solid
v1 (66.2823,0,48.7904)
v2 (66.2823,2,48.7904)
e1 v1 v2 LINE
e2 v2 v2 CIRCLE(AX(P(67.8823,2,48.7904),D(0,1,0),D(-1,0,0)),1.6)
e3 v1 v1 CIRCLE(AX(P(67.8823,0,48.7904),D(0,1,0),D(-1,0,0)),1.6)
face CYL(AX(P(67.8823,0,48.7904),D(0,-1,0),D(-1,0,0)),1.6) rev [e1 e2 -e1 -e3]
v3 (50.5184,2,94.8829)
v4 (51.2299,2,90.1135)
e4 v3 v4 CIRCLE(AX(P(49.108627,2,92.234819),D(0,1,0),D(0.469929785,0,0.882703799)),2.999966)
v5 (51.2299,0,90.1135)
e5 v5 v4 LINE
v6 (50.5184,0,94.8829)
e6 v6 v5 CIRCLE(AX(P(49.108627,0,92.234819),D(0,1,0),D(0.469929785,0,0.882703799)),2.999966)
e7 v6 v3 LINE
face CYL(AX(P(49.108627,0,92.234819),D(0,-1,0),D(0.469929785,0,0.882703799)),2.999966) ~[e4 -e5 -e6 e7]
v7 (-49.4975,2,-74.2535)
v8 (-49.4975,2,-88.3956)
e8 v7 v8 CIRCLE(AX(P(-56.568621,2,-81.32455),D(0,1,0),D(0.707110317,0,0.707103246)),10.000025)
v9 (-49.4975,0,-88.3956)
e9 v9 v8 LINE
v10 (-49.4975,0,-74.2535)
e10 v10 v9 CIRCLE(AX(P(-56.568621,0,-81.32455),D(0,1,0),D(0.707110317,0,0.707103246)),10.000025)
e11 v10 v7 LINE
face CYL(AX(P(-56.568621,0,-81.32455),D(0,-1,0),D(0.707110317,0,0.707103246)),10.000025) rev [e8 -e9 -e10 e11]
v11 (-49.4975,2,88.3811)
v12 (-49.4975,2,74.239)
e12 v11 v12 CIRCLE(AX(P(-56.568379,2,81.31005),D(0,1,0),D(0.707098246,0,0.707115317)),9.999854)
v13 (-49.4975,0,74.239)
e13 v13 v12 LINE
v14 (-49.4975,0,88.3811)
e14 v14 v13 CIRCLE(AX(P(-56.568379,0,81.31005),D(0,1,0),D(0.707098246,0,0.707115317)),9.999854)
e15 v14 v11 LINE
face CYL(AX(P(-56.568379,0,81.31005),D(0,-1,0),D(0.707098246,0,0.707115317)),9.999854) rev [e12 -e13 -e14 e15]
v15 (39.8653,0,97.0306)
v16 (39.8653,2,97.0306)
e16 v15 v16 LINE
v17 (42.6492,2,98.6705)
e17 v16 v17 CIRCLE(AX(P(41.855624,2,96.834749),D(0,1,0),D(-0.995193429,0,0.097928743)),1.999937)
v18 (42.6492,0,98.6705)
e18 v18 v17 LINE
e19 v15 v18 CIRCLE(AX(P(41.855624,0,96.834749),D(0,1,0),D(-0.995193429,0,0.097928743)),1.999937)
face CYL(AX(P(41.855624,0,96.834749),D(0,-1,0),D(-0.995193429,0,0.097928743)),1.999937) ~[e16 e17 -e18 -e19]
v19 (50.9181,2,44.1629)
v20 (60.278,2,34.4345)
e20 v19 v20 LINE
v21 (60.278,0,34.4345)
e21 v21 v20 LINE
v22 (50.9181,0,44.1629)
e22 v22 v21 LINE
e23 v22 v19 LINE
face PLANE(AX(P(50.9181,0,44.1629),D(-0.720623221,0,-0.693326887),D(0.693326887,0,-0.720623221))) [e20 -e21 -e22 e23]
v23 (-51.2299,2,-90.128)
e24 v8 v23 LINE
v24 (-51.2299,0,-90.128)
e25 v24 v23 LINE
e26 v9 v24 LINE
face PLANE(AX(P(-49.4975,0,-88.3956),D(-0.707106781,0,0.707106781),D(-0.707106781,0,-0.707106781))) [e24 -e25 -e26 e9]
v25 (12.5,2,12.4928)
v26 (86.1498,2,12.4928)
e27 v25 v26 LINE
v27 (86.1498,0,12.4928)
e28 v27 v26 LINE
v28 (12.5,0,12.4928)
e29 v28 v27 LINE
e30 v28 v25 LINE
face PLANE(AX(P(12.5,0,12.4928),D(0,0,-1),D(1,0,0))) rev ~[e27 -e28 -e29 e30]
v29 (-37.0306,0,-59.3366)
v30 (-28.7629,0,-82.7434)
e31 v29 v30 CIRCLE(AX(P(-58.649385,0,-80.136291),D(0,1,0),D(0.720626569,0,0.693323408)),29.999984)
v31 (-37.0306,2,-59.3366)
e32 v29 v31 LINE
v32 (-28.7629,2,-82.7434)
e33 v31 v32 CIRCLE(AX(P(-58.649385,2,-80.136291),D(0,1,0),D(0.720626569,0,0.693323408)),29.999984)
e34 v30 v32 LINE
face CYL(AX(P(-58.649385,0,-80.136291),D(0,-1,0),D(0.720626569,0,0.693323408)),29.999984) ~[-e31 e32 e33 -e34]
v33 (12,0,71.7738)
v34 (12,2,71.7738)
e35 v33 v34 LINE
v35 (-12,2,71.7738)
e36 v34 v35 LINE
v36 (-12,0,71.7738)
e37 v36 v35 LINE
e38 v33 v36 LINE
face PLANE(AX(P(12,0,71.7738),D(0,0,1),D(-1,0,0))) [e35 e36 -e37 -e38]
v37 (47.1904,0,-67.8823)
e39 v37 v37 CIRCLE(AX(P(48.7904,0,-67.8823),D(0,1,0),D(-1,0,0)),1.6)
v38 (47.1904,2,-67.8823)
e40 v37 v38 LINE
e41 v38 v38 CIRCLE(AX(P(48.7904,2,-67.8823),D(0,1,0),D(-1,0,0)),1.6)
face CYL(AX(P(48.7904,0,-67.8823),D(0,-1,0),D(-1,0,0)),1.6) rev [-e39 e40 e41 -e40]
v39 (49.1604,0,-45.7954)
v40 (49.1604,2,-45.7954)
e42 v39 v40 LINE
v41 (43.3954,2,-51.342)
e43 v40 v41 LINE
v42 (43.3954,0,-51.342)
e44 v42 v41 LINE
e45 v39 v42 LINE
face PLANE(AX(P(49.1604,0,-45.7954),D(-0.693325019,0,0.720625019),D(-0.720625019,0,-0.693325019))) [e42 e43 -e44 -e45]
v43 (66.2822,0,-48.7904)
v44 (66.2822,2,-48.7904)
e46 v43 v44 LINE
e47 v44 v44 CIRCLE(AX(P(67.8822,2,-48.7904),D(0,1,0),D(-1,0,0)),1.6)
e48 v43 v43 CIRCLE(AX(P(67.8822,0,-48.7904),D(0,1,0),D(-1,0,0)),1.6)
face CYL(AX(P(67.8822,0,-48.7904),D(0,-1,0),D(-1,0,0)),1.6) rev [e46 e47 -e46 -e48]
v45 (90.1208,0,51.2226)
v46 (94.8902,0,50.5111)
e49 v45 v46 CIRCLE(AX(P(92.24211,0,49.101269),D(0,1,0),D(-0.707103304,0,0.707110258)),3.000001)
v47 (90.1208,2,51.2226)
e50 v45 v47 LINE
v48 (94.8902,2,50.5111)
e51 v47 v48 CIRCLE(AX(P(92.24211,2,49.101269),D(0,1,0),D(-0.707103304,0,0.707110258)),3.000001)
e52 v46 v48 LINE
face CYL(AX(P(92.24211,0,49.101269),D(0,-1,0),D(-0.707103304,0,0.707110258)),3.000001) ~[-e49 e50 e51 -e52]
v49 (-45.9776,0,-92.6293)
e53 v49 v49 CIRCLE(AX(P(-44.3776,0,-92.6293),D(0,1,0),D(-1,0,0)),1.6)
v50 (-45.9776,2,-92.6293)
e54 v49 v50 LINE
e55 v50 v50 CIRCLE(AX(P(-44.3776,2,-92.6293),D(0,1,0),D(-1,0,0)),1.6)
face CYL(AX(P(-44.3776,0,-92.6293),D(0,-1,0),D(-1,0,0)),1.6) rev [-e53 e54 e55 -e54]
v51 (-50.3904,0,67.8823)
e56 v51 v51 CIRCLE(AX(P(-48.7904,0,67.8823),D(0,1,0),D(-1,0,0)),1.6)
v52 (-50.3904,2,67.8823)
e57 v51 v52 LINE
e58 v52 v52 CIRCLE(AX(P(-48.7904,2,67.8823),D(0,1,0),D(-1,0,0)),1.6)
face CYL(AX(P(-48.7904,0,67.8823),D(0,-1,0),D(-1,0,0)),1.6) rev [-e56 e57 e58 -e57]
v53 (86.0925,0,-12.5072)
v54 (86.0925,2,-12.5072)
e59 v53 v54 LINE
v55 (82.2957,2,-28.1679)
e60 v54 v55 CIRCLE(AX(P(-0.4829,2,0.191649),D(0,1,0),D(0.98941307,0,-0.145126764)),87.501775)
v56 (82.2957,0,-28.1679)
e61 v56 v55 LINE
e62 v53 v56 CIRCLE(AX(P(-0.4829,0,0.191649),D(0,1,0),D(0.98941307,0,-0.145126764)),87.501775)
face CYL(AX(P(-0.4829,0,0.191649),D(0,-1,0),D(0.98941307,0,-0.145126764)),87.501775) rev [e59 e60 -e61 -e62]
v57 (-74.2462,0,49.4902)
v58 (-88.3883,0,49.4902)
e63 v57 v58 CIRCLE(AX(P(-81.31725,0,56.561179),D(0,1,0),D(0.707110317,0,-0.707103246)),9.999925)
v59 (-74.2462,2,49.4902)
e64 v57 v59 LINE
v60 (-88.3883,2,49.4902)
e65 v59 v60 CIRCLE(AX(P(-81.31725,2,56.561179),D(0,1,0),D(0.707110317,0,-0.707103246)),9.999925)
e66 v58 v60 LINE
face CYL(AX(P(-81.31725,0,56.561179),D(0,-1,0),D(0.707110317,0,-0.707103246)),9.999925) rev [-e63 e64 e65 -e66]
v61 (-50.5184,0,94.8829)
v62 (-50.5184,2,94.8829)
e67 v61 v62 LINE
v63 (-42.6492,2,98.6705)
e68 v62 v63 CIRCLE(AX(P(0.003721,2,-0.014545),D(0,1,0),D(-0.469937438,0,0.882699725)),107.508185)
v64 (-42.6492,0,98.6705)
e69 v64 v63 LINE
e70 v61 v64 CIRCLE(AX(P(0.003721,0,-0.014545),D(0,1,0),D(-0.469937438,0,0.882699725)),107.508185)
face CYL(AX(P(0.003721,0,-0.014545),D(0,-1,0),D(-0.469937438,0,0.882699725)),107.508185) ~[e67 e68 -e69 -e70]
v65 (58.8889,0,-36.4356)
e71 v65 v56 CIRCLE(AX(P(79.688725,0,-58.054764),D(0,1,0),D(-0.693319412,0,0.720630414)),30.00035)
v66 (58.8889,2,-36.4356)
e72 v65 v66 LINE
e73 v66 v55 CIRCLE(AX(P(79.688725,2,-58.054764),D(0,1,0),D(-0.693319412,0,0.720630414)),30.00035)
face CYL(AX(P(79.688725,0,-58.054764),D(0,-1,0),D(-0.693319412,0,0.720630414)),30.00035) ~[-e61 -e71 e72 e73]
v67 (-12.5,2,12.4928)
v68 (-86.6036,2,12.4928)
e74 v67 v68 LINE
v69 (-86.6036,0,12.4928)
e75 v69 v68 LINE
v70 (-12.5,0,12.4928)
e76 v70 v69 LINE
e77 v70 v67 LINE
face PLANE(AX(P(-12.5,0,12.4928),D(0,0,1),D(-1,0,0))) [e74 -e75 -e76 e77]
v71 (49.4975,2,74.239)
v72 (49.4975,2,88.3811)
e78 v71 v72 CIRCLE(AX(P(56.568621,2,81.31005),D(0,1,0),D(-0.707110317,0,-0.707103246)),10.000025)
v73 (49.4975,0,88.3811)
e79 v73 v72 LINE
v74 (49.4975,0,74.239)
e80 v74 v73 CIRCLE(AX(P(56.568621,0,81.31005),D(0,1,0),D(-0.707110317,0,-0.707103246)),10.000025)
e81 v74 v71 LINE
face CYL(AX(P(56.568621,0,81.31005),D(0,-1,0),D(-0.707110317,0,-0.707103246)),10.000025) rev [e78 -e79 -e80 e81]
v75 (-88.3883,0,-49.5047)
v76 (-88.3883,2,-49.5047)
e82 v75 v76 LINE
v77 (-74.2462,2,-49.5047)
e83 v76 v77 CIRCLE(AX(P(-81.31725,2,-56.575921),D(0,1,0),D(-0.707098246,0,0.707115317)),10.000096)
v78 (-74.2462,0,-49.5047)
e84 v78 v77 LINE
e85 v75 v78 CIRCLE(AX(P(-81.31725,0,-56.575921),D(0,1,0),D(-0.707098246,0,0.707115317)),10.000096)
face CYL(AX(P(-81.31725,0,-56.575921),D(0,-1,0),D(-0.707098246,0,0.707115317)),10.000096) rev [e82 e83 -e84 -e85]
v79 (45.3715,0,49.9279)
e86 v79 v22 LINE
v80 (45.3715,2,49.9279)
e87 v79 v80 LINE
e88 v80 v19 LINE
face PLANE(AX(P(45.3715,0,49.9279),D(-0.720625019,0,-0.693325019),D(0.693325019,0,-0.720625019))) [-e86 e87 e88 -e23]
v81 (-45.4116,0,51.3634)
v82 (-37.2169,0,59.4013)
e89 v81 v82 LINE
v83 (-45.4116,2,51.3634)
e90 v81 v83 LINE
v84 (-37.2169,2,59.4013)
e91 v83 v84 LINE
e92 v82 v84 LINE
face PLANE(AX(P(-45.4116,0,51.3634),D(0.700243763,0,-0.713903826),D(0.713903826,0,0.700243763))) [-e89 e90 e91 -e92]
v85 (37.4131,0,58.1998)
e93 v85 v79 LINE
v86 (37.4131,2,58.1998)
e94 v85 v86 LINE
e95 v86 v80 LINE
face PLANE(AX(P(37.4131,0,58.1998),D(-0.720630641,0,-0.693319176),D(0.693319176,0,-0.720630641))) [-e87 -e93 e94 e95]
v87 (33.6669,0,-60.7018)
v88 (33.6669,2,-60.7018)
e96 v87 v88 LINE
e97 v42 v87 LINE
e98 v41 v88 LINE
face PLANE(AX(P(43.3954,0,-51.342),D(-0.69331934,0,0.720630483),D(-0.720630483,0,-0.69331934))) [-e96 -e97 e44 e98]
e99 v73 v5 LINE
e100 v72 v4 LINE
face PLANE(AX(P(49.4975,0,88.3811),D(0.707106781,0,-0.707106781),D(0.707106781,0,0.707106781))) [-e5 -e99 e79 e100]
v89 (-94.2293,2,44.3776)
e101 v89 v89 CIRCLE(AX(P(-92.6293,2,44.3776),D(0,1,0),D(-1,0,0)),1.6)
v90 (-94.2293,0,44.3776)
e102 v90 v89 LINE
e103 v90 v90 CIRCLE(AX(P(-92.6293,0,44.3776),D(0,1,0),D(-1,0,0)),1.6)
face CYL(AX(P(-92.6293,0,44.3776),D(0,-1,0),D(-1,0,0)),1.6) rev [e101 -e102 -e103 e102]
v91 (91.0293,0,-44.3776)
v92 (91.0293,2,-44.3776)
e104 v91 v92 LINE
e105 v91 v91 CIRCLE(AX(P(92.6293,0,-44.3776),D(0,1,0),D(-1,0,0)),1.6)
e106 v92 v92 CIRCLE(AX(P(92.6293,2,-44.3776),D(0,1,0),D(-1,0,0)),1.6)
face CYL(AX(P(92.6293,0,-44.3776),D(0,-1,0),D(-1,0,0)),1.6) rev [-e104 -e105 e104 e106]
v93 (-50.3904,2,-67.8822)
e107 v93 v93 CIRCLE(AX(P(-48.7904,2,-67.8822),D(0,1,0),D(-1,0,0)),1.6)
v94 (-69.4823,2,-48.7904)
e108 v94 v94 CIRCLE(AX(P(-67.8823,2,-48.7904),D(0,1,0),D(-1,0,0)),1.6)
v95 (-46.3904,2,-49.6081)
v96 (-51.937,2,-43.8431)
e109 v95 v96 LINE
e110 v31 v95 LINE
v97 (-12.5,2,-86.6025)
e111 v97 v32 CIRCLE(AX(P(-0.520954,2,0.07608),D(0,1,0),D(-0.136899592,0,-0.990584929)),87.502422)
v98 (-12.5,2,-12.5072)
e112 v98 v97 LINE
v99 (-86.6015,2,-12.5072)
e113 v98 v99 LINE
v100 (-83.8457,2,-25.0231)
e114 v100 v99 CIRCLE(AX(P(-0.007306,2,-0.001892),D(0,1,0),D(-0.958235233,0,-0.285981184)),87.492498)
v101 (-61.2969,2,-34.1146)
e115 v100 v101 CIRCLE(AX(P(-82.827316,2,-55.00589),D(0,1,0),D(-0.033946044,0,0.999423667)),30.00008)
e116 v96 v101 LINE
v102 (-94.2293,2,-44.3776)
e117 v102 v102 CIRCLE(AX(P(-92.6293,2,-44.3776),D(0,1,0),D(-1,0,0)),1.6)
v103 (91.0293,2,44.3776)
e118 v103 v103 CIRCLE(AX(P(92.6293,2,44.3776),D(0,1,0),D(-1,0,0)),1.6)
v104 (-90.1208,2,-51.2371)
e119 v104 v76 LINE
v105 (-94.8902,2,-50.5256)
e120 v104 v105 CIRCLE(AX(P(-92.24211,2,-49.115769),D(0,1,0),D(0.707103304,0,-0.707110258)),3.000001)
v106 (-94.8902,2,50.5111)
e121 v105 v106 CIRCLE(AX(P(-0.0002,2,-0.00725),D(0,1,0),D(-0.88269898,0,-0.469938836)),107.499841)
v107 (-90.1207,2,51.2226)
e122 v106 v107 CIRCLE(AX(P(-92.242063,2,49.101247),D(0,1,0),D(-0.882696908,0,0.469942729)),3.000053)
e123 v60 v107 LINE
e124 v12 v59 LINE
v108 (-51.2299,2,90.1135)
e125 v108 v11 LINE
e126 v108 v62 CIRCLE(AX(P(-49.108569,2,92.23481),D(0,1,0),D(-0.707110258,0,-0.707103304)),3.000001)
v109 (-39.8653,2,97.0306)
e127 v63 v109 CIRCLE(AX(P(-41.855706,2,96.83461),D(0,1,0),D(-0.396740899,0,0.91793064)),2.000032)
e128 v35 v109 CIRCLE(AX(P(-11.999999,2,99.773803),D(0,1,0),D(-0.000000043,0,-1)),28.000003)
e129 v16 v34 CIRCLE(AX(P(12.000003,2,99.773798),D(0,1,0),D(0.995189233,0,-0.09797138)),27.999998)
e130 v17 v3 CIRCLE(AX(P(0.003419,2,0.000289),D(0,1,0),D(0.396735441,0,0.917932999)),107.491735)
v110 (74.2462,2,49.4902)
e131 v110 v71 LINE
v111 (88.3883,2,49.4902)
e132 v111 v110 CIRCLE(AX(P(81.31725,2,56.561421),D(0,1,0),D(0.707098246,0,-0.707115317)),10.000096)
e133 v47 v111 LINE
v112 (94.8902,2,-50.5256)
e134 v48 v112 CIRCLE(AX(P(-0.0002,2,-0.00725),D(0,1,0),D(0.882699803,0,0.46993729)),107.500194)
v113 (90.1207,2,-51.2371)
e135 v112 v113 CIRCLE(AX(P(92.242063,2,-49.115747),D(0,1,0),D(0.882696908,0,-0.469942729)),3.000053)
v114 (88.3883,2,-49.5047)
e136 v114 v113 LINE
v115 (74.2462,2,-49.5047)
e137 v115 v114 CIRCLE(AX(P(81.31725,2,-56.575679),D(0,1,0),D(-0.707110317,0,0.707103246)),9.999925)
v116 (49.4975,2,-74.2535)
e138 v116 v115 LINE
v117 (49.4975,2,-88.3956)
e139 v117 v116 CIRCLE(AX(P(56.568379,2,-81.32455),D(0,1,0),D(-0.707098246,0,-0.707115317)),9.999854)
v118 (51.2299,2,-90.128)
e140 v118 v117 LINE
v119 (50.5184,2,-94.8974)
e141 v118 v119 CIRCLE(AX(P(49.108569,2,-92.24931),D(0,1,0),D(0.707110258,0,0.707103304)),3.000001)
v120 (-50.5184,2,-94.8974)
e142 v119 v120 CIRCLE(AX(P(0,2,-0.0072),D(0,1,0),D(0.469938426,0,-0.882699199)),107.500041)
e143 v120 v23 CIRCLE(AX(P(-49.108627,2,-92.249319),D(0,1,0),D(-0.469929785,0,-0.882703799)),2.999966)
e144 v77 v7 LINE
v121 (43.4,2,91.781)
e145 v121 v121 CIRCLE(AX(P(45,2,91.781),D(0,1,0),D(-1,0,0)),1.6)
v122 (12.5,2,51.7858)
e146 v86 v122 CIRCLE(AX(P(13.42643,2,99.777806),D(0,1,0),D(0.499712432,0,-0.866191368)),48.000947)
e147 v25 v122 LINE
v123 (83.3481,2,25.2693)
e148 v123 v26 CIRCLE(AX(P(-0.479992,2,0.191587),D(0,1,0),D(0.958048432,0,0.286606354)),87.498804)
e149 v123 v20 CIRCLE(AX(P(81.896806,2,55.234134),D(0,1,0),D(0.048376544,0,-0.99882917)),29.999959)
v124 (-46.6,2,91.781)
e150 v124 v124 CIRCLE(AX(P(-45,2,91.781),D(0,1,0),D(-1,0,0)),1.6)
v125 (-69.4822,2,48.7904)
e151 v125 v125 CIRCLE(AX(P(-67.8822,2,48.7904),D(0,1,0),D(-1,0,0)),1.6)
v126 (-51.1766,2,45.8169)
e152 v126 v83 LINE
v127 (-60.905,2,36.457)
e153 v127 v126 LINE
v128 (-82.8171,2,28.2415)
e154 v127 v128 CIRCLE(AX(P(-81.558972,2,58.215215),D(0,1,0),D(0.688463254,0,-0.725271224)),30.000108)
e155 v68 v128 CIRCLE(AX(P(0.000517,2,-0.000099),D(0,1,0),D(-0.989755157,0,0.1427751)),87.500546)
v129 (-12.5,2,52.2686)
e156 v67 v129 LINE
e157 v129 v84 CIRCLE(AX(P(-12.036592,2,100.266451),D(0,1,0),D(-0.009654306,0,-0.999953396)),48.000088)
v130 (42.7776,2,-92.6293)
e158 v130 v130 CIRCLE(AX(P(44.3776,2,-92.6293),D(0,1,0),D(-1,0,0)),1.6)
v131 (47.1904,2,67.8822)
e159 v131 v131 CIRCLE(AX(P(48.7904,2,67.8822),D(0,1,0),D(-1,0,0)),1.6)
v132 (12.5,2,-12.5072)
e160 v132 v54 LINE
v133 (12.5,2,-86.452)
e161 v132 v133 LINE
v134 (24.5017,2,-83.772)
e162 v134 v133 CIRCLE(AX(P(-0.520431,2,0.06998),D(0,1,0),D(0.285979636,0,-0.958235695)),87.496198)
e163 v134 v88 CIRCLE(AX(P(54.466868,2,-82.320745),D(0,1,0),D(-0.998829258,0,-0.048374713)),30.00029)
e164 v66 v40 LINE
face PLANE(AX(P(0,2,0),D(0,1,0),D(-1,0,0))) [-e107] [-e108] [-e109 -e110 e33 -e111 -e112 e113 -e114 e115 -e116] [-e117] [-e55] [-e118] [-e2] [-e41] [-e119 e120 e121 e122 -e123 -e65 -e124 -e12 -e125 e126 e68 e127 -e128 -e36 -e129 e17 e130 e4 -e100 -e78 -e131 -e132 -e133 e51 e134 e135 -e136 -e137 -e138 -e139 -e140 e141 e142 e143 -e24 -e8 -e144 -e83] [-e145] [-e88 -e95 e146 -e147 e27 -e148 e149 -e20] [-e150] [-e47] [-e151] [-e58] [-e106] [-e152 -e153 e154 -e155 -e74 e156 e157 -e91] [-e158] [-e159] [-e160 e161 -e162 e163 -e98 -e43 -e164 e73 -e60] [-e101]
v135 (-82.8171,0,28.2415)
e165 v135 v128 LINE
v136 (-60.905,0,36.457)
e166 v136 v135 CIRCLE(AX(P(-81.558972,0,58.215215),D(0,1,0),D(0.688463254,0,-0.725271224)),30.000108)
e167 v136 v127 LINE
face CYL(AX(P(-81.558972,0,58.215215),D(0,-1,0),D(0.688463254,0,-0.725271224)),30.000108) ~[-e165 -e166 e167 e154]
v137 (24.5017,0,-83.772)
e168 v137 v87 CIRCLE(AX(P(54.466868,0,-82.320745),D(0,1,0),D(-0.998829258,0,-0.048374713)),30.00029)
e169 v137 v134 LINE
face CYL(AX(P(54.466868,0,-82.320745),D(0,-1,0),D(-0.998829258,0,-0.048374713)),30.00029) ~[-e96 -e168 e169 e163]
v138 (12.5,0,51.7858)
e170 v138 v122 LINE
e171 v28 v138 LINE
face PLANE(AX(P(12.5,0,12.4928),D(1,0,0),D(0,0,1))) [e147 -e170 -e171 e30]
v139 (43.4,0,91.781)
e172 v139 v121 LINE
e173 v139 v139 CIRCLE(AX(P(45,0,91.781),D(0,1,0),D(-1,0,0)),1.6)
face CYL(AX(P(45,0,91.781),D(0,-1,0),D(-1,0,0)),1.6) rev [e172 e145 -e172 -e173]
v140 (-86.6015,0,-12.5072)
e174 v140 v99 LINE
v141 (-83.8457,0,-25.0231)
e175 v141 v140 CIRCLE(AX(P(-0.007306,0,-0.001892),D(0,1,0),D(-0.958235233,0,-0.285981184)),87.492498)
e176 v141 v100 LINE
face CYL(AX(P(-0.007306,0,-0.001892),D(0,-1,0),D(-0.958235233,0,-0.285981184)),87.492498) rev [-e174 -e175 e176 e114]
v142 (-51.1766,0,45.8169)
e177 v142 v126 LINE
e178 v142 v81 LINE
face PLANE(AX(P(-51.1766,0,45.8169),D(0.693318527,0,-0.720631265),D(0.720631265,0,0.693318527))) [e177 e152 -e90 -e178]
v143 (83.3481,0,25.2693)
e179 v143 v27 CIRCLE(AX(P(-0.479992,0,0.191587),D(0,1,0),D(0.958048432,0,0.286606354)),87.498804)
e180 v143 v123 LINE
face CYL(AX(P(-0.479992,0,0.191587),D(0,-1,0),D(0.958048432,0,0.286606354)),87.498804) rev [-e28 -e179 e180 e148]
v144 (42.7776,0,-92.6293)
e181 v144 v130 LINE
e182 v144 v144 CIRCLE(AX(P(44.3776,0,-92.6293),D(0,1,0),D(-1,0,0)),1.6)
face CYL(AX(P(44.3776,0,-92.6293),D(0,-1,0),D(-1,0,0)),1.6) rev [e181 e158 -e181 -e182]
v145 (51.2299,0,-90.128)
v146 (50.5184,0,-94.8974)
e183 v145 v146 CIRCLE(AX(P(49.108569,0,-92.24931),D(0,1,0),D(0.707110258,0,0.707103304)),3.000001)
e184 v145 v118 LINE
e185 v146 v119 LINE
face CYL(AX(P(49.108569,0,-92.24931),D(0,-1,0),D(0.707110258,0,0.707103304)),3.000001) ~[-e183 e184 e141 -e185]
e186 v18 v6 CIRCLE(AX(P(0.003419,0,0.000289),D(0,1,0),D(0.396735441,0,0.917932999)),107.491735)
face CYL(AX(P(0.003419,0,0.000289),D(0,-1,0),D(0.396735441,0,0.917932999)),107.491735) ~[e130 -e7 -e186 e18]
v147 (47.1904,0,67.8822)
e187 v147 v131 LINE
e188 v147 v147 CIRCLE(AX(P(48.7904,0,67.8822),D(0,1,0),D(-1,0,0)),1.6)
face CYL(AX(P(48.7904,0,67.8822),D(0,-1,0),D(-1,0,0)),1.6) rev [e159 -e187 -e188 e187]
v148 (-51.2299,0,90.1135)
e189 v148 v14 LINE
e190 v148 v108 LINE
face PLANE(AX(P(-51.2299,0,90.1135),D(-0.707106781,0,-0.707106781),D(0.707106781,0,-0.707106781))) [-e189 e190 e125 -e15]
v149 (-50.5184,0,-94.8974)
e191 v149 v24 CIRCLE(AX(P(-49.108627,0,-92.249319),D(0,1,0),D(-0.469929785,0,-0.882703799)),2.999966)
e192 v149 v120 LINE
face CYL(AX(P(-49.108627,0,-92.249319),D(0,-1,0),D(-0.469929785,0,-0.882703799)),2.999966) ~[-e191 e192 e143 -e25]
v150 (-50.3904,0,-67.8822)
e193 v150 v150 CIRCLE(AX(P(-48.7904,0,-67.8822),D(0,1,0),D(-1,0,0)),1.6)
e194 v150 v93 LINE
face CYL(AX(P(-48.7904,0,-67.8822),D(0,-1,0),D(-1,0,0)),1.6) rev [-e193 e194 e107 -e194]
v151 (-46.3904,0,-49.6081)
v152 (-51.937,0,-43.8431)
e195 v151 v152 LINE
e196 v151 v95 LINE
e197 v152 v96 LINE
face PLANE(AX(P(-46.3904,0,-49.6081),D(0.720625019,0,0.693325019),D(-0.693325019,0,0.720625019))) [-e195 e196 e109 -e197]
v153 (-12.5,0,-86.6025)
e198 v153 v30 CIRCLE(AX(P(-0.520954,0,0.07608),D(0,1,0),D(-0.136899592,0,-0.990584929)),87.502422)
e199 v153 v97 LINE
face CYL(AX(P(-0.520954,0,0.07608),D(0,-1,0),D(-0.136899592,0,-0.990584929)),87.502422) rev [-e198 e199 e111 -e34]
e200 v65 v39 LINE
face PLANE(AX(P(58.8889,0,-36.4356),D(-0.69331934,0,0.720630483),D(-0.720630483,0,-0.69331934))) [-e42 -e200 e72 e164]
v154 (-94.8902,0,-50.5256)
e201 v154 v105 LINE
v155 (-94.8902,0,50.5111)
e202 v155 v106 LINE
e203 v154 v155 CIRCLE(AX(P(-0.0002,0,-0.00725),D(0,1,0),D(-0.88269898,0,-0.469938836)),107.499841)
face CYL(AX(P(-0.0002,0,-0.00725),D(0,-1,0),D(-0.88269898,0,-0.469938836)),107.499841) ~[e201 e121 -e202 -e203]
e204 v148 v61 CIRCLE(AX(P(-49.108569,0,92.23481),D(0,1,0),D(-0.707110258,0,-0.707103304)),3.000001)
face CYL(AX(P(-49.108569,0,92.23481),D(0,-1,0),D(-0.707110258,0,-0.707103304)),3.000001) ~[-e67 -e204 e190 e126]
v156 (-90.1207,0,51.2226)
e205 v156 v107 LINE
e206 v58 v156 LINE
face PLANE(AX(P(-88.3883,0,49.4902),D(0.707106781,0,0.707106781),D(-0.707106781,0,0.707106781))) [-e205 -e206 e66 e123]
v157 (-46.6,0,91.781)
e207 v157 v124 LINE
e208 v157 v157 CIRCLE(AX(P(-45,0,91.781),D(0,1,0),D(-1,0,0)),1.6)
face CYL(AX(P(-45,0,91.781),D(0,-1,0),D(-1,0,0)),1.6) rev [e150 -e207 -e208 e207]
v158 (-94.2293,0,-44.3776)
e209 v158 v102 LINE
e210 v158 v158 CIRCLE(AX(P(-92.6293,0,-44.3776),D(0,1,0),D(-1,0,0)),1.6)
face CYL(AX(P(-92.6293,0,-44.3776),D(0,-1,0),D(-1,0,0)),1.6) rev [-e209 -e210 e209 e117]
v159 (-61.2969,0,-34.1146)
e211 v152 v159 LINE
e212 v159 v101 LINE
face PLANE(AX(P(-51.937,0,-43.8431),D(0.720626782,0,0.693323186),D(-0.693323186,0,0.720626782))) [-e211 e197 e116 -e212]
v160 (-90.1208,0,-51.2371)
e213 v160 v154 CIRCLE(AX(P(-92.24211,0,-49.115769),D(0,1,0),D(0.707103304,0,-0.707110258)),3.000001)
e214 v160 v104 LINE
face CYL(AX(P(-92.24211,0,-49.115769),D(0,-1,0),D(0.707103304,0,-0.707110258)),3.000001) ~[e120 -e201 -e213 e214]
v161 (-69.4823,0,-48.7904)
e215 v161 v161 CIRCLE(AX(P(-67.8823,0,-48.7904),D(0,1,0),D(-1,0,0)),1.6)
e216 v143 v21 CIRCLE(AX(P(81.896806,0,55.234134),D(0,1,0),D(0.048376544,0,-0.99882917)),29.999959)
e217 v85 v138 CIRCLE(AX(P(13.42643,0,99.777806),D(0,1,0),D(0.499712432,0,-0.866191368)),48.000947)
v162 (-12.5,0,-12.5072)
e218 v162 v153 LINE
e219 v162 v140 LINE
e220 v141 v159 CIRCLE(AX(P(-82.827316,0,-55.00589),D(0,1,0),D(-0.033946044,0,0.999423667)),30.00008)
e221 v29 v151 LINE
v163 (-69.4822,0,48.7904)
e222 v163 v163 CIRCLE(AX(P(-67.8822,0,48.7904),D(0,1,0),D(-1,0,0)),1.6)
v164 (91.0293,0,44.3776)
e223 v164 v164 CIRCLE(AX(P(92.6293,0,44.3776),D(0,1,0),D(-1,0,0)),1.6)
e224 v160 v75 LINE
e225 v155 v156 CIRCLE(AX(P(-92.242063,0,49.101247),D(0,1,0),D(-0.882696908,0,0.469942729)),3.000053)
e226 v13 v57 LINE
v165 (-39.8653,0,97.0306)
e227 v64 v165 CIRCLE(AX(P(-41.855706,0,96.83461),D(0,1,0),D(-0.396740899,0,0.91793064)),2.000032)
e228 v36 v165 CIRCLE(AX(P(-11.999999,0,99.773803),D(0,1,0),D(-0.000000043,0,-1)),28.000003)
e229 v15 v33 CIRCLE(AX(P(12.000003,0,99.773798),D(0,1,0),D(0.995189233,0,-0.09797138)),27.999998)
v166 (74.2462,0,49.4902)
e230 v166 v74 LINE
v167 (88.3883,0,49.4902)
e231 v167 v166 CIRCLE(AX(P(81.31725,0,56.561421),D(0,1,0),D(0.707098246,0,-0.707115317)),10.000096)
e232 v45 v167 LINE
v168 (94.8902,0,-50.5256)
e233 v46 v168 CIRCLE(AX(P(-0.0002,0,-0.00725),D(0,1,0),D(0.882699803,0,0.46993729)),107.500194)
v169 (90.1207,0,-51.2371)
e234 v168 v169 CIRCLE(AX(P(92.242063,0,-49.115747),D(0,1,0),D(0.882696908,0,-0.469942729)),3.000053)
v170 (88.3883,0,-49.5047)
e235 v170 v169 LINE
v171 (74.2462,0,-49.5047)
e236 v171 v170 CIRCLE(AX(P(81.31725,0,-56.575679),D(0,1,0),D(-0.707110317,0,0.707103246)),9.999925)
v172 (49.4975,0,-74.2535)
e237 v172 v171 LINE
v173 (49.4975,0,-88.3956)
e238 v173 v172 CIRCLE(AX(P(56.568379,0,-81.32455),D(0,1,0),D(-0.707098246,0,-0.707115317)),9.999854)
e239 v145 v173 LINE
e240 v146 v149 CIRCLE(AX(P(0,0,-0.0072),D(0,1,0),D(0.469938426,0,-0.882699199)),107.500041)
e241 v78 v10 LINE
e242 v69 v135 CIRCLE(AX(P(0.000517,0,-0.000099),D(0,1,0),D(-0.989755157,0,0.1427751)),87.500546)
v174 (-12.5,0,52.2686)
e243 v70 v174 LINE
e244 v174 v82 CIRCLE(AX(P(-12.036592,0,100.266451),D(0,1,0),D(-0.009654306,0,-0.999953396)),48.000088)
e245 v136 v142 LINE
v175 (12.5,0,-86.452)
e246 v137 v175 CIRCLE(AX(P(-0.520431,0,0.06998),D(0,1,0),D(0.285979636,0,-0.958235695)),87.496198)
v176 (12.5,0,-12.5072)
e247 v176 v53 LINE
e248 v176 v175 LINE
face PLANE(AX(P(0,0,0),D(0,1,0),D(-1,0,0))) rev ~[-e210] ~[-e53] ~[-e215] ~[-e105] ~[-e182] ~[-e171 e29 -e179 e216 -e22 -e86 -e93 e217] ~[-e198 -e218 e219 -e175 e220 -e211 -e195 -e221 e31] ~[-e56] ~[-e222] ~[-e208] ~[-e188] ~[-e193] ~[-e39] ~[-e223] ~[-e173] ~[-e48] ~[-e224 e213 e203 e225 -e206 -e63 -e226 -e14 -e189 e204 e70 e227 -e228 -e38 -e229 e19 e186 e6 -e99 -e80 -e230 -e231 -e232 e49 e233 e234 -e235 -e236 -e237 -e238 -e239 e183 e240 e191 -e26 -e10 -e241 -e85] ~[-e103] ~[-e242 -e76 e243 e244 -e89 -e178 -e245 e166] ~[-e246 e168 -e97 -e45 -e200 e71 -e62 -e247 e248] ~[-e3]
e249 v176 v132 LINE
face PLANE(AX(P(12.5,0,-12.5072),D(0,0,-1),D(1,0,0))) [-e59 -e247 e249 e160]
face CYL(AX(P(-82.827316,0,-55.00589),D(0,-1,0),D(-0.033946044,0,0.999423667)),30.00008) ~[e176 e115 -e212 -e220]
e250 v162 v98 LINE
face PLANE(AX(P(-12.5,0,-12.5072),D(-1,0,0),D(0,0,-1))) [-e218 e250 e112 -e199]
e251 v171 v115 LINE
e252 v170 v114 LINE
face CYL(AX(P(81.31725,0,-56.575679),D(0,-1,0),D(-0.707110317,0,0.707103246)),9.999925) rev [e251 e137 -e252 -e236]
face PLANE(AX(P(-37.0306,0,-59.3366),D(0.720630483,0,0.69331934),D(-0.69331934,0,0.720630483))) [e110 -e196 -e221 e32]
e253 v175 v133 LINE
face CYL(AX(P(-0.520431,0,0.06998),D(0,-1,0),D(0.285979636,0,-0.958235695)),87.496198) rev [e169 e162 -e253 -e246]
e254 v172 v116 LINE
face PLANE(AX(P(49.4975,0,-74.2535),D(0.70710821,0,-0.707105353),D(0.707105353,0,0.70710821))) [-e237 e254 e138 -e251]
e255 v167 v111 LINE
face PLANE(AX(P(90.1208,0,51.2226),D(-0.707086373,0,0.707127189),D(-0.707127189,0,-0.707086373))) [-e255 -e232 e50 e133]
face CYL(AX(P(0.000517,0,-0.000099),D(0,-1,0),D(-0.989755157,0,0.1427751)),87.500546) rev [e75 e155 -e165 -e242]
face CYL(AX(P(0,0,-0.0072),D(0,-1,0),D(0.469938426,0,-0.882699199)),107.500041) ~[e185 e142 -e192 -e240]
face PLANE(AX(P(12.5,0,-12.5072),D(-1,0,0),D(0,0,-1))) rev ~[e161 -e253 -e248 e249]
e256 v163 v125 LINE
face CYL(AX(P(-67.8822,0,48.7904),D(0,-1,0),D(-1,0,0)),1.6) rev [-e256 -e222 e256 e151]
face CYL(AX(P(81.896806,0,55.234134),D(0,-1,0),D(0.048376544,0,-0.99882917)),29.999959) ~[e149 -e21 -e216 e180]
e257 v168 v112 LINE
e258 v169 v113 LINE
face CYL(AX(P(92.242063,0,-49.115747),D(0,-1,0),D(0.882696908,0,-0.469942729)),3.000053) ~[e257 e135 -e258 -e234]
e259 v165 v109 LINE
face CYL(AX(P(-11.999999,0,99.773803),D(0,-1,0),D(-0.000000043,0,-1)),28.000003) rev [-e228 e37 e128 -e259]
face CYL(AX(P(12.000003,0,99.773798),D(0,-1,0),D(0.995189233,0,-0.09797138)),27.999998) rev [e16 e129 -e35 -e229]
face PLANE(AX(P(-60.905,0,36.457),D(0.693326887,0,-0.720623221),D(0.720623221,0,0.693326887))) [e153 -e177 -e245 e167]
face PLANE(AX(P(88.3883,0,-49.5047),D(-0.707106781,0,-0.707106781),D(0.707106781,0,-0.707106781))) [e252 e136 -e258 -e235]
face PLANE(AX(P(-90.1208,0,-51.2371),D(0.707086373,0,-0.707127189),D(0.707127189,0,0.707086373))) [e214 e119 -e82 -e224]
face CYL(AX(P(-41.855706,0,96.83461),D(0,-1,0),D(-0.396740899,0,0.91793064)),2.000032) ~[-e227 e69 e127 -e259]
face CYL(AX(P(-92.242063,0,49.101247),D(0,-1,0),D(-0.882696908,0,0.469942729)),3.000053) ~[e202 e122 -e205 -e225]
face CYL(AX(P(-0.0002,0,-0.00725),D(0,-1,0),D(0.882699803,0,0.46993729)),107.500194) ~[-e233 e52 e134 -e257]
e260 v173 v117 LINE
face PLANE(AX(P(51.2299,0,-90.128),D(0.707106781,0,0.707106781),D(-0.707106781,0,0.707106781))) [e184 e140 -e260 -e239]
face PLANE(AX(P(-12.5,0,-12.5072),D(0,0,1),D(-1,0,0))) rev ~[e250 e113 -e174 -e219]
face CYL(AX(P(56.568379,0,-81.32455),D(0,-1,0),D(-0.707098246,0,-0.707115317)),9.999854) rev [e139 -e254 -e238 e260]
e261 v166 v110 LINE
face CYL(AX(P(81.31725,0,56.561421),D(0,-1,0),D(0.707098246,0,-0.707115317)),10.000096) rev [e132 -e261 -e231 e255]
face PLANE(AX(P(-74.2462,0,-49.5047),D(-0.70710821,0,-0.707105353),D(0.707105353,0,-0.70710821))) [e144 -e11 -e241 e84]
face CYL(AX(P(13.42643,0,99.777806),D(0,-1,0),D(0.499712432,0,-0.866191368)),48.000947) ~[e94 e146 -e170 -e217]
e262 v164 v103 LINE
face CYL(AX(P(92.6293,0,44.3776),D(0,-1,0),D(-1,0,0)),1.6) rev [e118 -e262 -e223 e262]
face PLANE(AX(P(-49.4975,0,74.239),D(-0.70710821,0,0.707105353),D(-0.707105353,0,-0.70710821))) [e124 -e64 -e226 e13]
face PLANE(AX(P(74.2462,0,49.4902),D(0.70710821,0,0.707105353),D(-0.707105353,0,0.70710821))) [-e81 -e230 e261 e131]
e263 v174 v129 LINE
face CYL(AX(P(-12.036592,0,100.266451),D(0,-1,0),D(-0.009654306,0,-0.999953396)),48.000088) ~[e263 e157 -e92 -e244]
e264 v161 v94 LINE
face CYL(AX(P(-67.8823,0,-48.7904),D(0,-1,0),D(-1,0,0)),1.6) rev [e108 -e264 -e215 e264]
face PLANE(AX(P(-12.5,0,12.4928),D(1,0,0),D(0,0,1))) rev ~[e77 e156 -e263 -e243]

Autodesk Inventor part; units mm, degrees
ref_plane "YZ Plane" through (0, 0, 0) normal (1, 0, 0) x (0, 1, 0)
ref_plane "XZ Plane" through (0, 0, 0) normal (0, 1, 0) x (-1, 0, 0)
ref_plane "XY Plane" through (0, 0, 0) normal (0, 0, 1) x (1, 0, 0)
sketch "Skizze1" plane through (0, 0, 0) normal (0, 1, 0) x (-1, 0, 0)
  circle A0 centre (-44.3776, -92.6293) radius 1.6
  circle A1 centre (92.6293, 44.3776) radius 1.6
  circle A2 centre (-92.6293, -44.3776) radius 1.6
  circle A3 centre (44.3776, -92.6293) radius 1.6
  circle A4 centre (92.6293, -44.3776) radius 1.6
  circle A5 centre (-92.6293, 44.3776) radius 1.6
  circle A6 centre (45, 91.781) radius 1.6
  circle A7 centre (-45, 91.781) radius 1.6
  arc A8 (12, 71.7738) -> (39.8653, 97.0306) centre (12, 99.7738) ccw
  line L0 (-12, 71.7738) -> (12, 71.7738)
  arc A9 (-39.8653, 97.0306) -> (-12, 71.7738) centre (-12, 99.7738) ccw
  arc A10 (-39.8653, 97.0306) -> (-42.6492, 98.6705) centre (-41.8557, 96.8347) ccw
  arc A11 (-42.6492, 98.6705) -> (-50.5184, 94.8829) centre (0, -0.0072) ccw
  arc A12 (-50.5184, 94.8829) -> (-51.2299, 90.1135) centre (-49.1086, 92.2348) ccw
  line L1 (-49.4975, 88.3811) -> (-51.2299, 90.1135)
  arc A13 (-49.4975, 74.239) -> (-49.4975, 88.3811) centre (-56.5685, 81.31) ccw
  line L2 (-74.2462, 49.4902) -> (-49.4975, 74.239)
  arc A14 (-88.3883, 49.4902) -> (-74.2462, 49.4902) centre (-81.3173, 56.5613) ccw
  line L3 (-90.1208, 51.2226) -> (-88.3883, 49.4902)
  arc A15 (-90.1208, 51.2226) -> (-94.8902, 50.5111) centre (-92.2421, 49.1013) ccw
  arc A16 (-94.8902, 50.5111) -> (-94.8902, -50.5256) centre (0, -0.0072) ccw
  arc A17 (-94.8902, -50.5256) -> (-90.1207, -51.2371) centre (-92.2421, -49.1158) ccw
  line L4 (-88.3883, -49.5047) -> (-90.1207, -51.2371)
  arc A18 (-74.2462, -49.5047) -> (-88.3883, -49.5047) centre (-81.3173, -56.5758) ccw
  line L5 (-49.4975, -74.2535) -> (-74.2462, -49.5047)
  arc A19 (-49.4975, -88.3956) -> (-49.4975, -74.2535) centre (-56.5685, -81.3245) ccw
  line L6 (-51.2299, -90.128) -> (-49.4975, -88.3956)
  arc A20 (-51.2299, -90.128) -> (-50.5184, -94.8974) centre (-49.1086, -92.2493) ccw
  arc A21 (-50.5184, -94.8974) -> (50.5184, -94.8974) centre (0, -0.0072) ccw
  arc A22 (50.5184, -94.8974) -> (51.2299, -90.128) centre (49.1086, -92.2493) ccw
  line L7 (49.4975, -88.3956) -> (51.2299, -90.128)
  arc A23 (49.4975, -74.2535) -> (49.4975, -88.3956) centre (56.5685, -81.3245) ccw
  line L8 (74.2462, -49.5047) -> (49.4975, -74.2535)
  arc A24 (88.3883, -49.5047) -> (74.2462, -49.5047) centre (81.3173, -56.5758) ccw
  line L9 (90.1208, -51.2371) -> (88.3883, -49.5047)
  arc A25 (90.1208, -51.2371) -> (94.8902, -50.5256) centre (92.2421, -49.1158) ccw
  arc A26 (94.8902, -50.5256) -> (94.8902, 50.5111) centre (0, -0.0072) ccw
  arc A27 (94.8902, 50.5111) -> (90.1207, 51.2226) centre (92.2421, 49.1013) ccw
  line L10 (88.3883, 49.4902) -> (90.1207, 51.2226)
  arc A28 (74.2462, 49.4902) -> (88.3883, 49.4902) centre (81.3173, 56.5613) ccw
  line L11 (49.4975, 74.239) -> (74.2462, 49.4902)
  arc A29 (49.4975, 88.3811) -> (49.4975, 74.239) centre (56.5685, 81.31) ccw
  line L12 (51.2299, 90.1135) -> (49.4975, 88.3811)
  arc A30 (51.2299, 90.1135) -> (50.5184, 94.8829) centre (49.1086, 92.2348) ccw
  arc A31 (50.5184, 94.8829) -> (42.6492, 98.6705) centre (0, -0.0072) ccw
  arc A32 (42.6492, 98.6705) -> (39.8653, 97.0306) centre (41.8557, 96.8347) ccw
  circle A33 centre (-48.7904, 67.8822) radius 1.6
  circle A34 centre (48.7904, 67.8823) radius 1.6
  circle A35 centre (67.8822, 48.7904) radius 1.6
  circle A36 centre (-67.8823, 48.7904) radius 1.6
  circle A37 centre (67.8823, -48.7904) radius 1.6
  circle A38 centre (48.7904, -67.8822) radius 1.6
  circle A39 centre (-48.7904, -67.8823) radius 1.6
  circle A40 centre (-67.8822, -48.7904) radius 1.6
  arc A41 (-83.3481, 25.2693) -> (-60.278, 34.4345) centre (-81.8968, 55.2341) ccw
  arc A42 (-58.8889, -36.4356) -> (-82.2957, -28.1679) centre (-79.6885, -58.0544) ccw
  line L13 (-58.8889, -36.4356) -> (-49.1604, -45.7954)
  line L14 (-49.1604, -45.7954) -> (-43.3954, -51.342)
  line L15 (-43.3954, -51.342) -> (-33.6669, -60.7018)
  arc A43 (-24.5017, -83.772) -> (-33.6669, -60.7018) centre (-54.4666, -82.3207) ccw
  arc A44 (37.0306, -59.3366) -> (28.7629, -82.7434) centre (58.6494, -80.1363) ccw
  line L16 (37.0306, -59.3366) -> (46.3904, -49.6081)
  line L17 (46.3904, -49.6081) -> (51.937, -43.8431)
  line L18 (51.937, -43.8431) -> (61.2969, -34.1146)
  arc A45 (83.8457, -25.0231) -> (61.2969, -34.1146) centre (82.8273, -55.0058) ccw
  arc A46 (60.905, 36.457) -> (82.8171, 28.2415) centre (81.5589, 58.2151) ccw
  line L19 (60.905, 36.457) -> (51.1766, 45.8169)
  line L20 (51.1766, 45.8169) -> (45.4116, 51.3634)
  line L21 (45.4116, 51.3634) -> (37.2169, 59.4013)
  arc A47 (12.5, 52.2686) -> (37.2169, 59.4013) centre (12.0366, 100.2664) ccw
  line L22 (-12.47, 51.7864) -> (-12.5, 51.7858)
  arc A48 (-37.4131, 58.1998) -> (-12.5, 51.7858) centre (-13.4268, 99.7769) ccw
  line L23 (-37.4131, 58.1998) -> (-45.3715, 49.9279)
  line L24 (-45.3715, 49.9279) -> (-50.9181, 44.1629)
  line L25 (-50.9181, 44.1629) -> (-60.278, 34.4345)
  line L26 (12.5, 12.4928) -> (12.5, 52.2686)
  line L27 (-12.5, 12.4928) -> (-12.5, 51.7858)
  line L28 (12.5, -12.5072) -> (86.6015, -12.5072)
  line L29 (12.5, 12.4928) -> (86.6036, 12.4928)
  line L30 (12.5, -12.5072) -> (12.5, -86.6025)
  line L31 (-12.5, -12.5072) -> (-12.5, -86.452)
  line L32 (-12.5, -12.5072) -> (-86.0925, -12.5072)
  line L33 (-12.4928, 12.4928) -> (-86.1498, 12.4928)
  arc A49 (-83.3481, 25.2693) -> (-86.1498, 12.4928) centre (0.4811, 0.1913) ccw
  arc A50 (-86.0925, -12.5072) -> (-82.2957, -28.1679) centre (0.4811, 0.1913) ccw
  arc A51 (83.8457, -25.0231) -> (86.6015, -12.5072) centre (0, 0) ccw
  arc A52 (86.6036, 12.4928) -> (82.8171, 28.2415) centre (0, 0) ccw
  arc A53 (-24.5017, -83.772) -> (-12.5, -86.452) centre (0.5214, 0.0737) ccw
  arc A54 (12.5, -86.6025) -> (28.7629, -82.7434) centre (0.5214, 0.0737) ccw
extrude "Extrusion1" add sketch "Skizze1" along normal blind 2
properties part number "Boden WM"
